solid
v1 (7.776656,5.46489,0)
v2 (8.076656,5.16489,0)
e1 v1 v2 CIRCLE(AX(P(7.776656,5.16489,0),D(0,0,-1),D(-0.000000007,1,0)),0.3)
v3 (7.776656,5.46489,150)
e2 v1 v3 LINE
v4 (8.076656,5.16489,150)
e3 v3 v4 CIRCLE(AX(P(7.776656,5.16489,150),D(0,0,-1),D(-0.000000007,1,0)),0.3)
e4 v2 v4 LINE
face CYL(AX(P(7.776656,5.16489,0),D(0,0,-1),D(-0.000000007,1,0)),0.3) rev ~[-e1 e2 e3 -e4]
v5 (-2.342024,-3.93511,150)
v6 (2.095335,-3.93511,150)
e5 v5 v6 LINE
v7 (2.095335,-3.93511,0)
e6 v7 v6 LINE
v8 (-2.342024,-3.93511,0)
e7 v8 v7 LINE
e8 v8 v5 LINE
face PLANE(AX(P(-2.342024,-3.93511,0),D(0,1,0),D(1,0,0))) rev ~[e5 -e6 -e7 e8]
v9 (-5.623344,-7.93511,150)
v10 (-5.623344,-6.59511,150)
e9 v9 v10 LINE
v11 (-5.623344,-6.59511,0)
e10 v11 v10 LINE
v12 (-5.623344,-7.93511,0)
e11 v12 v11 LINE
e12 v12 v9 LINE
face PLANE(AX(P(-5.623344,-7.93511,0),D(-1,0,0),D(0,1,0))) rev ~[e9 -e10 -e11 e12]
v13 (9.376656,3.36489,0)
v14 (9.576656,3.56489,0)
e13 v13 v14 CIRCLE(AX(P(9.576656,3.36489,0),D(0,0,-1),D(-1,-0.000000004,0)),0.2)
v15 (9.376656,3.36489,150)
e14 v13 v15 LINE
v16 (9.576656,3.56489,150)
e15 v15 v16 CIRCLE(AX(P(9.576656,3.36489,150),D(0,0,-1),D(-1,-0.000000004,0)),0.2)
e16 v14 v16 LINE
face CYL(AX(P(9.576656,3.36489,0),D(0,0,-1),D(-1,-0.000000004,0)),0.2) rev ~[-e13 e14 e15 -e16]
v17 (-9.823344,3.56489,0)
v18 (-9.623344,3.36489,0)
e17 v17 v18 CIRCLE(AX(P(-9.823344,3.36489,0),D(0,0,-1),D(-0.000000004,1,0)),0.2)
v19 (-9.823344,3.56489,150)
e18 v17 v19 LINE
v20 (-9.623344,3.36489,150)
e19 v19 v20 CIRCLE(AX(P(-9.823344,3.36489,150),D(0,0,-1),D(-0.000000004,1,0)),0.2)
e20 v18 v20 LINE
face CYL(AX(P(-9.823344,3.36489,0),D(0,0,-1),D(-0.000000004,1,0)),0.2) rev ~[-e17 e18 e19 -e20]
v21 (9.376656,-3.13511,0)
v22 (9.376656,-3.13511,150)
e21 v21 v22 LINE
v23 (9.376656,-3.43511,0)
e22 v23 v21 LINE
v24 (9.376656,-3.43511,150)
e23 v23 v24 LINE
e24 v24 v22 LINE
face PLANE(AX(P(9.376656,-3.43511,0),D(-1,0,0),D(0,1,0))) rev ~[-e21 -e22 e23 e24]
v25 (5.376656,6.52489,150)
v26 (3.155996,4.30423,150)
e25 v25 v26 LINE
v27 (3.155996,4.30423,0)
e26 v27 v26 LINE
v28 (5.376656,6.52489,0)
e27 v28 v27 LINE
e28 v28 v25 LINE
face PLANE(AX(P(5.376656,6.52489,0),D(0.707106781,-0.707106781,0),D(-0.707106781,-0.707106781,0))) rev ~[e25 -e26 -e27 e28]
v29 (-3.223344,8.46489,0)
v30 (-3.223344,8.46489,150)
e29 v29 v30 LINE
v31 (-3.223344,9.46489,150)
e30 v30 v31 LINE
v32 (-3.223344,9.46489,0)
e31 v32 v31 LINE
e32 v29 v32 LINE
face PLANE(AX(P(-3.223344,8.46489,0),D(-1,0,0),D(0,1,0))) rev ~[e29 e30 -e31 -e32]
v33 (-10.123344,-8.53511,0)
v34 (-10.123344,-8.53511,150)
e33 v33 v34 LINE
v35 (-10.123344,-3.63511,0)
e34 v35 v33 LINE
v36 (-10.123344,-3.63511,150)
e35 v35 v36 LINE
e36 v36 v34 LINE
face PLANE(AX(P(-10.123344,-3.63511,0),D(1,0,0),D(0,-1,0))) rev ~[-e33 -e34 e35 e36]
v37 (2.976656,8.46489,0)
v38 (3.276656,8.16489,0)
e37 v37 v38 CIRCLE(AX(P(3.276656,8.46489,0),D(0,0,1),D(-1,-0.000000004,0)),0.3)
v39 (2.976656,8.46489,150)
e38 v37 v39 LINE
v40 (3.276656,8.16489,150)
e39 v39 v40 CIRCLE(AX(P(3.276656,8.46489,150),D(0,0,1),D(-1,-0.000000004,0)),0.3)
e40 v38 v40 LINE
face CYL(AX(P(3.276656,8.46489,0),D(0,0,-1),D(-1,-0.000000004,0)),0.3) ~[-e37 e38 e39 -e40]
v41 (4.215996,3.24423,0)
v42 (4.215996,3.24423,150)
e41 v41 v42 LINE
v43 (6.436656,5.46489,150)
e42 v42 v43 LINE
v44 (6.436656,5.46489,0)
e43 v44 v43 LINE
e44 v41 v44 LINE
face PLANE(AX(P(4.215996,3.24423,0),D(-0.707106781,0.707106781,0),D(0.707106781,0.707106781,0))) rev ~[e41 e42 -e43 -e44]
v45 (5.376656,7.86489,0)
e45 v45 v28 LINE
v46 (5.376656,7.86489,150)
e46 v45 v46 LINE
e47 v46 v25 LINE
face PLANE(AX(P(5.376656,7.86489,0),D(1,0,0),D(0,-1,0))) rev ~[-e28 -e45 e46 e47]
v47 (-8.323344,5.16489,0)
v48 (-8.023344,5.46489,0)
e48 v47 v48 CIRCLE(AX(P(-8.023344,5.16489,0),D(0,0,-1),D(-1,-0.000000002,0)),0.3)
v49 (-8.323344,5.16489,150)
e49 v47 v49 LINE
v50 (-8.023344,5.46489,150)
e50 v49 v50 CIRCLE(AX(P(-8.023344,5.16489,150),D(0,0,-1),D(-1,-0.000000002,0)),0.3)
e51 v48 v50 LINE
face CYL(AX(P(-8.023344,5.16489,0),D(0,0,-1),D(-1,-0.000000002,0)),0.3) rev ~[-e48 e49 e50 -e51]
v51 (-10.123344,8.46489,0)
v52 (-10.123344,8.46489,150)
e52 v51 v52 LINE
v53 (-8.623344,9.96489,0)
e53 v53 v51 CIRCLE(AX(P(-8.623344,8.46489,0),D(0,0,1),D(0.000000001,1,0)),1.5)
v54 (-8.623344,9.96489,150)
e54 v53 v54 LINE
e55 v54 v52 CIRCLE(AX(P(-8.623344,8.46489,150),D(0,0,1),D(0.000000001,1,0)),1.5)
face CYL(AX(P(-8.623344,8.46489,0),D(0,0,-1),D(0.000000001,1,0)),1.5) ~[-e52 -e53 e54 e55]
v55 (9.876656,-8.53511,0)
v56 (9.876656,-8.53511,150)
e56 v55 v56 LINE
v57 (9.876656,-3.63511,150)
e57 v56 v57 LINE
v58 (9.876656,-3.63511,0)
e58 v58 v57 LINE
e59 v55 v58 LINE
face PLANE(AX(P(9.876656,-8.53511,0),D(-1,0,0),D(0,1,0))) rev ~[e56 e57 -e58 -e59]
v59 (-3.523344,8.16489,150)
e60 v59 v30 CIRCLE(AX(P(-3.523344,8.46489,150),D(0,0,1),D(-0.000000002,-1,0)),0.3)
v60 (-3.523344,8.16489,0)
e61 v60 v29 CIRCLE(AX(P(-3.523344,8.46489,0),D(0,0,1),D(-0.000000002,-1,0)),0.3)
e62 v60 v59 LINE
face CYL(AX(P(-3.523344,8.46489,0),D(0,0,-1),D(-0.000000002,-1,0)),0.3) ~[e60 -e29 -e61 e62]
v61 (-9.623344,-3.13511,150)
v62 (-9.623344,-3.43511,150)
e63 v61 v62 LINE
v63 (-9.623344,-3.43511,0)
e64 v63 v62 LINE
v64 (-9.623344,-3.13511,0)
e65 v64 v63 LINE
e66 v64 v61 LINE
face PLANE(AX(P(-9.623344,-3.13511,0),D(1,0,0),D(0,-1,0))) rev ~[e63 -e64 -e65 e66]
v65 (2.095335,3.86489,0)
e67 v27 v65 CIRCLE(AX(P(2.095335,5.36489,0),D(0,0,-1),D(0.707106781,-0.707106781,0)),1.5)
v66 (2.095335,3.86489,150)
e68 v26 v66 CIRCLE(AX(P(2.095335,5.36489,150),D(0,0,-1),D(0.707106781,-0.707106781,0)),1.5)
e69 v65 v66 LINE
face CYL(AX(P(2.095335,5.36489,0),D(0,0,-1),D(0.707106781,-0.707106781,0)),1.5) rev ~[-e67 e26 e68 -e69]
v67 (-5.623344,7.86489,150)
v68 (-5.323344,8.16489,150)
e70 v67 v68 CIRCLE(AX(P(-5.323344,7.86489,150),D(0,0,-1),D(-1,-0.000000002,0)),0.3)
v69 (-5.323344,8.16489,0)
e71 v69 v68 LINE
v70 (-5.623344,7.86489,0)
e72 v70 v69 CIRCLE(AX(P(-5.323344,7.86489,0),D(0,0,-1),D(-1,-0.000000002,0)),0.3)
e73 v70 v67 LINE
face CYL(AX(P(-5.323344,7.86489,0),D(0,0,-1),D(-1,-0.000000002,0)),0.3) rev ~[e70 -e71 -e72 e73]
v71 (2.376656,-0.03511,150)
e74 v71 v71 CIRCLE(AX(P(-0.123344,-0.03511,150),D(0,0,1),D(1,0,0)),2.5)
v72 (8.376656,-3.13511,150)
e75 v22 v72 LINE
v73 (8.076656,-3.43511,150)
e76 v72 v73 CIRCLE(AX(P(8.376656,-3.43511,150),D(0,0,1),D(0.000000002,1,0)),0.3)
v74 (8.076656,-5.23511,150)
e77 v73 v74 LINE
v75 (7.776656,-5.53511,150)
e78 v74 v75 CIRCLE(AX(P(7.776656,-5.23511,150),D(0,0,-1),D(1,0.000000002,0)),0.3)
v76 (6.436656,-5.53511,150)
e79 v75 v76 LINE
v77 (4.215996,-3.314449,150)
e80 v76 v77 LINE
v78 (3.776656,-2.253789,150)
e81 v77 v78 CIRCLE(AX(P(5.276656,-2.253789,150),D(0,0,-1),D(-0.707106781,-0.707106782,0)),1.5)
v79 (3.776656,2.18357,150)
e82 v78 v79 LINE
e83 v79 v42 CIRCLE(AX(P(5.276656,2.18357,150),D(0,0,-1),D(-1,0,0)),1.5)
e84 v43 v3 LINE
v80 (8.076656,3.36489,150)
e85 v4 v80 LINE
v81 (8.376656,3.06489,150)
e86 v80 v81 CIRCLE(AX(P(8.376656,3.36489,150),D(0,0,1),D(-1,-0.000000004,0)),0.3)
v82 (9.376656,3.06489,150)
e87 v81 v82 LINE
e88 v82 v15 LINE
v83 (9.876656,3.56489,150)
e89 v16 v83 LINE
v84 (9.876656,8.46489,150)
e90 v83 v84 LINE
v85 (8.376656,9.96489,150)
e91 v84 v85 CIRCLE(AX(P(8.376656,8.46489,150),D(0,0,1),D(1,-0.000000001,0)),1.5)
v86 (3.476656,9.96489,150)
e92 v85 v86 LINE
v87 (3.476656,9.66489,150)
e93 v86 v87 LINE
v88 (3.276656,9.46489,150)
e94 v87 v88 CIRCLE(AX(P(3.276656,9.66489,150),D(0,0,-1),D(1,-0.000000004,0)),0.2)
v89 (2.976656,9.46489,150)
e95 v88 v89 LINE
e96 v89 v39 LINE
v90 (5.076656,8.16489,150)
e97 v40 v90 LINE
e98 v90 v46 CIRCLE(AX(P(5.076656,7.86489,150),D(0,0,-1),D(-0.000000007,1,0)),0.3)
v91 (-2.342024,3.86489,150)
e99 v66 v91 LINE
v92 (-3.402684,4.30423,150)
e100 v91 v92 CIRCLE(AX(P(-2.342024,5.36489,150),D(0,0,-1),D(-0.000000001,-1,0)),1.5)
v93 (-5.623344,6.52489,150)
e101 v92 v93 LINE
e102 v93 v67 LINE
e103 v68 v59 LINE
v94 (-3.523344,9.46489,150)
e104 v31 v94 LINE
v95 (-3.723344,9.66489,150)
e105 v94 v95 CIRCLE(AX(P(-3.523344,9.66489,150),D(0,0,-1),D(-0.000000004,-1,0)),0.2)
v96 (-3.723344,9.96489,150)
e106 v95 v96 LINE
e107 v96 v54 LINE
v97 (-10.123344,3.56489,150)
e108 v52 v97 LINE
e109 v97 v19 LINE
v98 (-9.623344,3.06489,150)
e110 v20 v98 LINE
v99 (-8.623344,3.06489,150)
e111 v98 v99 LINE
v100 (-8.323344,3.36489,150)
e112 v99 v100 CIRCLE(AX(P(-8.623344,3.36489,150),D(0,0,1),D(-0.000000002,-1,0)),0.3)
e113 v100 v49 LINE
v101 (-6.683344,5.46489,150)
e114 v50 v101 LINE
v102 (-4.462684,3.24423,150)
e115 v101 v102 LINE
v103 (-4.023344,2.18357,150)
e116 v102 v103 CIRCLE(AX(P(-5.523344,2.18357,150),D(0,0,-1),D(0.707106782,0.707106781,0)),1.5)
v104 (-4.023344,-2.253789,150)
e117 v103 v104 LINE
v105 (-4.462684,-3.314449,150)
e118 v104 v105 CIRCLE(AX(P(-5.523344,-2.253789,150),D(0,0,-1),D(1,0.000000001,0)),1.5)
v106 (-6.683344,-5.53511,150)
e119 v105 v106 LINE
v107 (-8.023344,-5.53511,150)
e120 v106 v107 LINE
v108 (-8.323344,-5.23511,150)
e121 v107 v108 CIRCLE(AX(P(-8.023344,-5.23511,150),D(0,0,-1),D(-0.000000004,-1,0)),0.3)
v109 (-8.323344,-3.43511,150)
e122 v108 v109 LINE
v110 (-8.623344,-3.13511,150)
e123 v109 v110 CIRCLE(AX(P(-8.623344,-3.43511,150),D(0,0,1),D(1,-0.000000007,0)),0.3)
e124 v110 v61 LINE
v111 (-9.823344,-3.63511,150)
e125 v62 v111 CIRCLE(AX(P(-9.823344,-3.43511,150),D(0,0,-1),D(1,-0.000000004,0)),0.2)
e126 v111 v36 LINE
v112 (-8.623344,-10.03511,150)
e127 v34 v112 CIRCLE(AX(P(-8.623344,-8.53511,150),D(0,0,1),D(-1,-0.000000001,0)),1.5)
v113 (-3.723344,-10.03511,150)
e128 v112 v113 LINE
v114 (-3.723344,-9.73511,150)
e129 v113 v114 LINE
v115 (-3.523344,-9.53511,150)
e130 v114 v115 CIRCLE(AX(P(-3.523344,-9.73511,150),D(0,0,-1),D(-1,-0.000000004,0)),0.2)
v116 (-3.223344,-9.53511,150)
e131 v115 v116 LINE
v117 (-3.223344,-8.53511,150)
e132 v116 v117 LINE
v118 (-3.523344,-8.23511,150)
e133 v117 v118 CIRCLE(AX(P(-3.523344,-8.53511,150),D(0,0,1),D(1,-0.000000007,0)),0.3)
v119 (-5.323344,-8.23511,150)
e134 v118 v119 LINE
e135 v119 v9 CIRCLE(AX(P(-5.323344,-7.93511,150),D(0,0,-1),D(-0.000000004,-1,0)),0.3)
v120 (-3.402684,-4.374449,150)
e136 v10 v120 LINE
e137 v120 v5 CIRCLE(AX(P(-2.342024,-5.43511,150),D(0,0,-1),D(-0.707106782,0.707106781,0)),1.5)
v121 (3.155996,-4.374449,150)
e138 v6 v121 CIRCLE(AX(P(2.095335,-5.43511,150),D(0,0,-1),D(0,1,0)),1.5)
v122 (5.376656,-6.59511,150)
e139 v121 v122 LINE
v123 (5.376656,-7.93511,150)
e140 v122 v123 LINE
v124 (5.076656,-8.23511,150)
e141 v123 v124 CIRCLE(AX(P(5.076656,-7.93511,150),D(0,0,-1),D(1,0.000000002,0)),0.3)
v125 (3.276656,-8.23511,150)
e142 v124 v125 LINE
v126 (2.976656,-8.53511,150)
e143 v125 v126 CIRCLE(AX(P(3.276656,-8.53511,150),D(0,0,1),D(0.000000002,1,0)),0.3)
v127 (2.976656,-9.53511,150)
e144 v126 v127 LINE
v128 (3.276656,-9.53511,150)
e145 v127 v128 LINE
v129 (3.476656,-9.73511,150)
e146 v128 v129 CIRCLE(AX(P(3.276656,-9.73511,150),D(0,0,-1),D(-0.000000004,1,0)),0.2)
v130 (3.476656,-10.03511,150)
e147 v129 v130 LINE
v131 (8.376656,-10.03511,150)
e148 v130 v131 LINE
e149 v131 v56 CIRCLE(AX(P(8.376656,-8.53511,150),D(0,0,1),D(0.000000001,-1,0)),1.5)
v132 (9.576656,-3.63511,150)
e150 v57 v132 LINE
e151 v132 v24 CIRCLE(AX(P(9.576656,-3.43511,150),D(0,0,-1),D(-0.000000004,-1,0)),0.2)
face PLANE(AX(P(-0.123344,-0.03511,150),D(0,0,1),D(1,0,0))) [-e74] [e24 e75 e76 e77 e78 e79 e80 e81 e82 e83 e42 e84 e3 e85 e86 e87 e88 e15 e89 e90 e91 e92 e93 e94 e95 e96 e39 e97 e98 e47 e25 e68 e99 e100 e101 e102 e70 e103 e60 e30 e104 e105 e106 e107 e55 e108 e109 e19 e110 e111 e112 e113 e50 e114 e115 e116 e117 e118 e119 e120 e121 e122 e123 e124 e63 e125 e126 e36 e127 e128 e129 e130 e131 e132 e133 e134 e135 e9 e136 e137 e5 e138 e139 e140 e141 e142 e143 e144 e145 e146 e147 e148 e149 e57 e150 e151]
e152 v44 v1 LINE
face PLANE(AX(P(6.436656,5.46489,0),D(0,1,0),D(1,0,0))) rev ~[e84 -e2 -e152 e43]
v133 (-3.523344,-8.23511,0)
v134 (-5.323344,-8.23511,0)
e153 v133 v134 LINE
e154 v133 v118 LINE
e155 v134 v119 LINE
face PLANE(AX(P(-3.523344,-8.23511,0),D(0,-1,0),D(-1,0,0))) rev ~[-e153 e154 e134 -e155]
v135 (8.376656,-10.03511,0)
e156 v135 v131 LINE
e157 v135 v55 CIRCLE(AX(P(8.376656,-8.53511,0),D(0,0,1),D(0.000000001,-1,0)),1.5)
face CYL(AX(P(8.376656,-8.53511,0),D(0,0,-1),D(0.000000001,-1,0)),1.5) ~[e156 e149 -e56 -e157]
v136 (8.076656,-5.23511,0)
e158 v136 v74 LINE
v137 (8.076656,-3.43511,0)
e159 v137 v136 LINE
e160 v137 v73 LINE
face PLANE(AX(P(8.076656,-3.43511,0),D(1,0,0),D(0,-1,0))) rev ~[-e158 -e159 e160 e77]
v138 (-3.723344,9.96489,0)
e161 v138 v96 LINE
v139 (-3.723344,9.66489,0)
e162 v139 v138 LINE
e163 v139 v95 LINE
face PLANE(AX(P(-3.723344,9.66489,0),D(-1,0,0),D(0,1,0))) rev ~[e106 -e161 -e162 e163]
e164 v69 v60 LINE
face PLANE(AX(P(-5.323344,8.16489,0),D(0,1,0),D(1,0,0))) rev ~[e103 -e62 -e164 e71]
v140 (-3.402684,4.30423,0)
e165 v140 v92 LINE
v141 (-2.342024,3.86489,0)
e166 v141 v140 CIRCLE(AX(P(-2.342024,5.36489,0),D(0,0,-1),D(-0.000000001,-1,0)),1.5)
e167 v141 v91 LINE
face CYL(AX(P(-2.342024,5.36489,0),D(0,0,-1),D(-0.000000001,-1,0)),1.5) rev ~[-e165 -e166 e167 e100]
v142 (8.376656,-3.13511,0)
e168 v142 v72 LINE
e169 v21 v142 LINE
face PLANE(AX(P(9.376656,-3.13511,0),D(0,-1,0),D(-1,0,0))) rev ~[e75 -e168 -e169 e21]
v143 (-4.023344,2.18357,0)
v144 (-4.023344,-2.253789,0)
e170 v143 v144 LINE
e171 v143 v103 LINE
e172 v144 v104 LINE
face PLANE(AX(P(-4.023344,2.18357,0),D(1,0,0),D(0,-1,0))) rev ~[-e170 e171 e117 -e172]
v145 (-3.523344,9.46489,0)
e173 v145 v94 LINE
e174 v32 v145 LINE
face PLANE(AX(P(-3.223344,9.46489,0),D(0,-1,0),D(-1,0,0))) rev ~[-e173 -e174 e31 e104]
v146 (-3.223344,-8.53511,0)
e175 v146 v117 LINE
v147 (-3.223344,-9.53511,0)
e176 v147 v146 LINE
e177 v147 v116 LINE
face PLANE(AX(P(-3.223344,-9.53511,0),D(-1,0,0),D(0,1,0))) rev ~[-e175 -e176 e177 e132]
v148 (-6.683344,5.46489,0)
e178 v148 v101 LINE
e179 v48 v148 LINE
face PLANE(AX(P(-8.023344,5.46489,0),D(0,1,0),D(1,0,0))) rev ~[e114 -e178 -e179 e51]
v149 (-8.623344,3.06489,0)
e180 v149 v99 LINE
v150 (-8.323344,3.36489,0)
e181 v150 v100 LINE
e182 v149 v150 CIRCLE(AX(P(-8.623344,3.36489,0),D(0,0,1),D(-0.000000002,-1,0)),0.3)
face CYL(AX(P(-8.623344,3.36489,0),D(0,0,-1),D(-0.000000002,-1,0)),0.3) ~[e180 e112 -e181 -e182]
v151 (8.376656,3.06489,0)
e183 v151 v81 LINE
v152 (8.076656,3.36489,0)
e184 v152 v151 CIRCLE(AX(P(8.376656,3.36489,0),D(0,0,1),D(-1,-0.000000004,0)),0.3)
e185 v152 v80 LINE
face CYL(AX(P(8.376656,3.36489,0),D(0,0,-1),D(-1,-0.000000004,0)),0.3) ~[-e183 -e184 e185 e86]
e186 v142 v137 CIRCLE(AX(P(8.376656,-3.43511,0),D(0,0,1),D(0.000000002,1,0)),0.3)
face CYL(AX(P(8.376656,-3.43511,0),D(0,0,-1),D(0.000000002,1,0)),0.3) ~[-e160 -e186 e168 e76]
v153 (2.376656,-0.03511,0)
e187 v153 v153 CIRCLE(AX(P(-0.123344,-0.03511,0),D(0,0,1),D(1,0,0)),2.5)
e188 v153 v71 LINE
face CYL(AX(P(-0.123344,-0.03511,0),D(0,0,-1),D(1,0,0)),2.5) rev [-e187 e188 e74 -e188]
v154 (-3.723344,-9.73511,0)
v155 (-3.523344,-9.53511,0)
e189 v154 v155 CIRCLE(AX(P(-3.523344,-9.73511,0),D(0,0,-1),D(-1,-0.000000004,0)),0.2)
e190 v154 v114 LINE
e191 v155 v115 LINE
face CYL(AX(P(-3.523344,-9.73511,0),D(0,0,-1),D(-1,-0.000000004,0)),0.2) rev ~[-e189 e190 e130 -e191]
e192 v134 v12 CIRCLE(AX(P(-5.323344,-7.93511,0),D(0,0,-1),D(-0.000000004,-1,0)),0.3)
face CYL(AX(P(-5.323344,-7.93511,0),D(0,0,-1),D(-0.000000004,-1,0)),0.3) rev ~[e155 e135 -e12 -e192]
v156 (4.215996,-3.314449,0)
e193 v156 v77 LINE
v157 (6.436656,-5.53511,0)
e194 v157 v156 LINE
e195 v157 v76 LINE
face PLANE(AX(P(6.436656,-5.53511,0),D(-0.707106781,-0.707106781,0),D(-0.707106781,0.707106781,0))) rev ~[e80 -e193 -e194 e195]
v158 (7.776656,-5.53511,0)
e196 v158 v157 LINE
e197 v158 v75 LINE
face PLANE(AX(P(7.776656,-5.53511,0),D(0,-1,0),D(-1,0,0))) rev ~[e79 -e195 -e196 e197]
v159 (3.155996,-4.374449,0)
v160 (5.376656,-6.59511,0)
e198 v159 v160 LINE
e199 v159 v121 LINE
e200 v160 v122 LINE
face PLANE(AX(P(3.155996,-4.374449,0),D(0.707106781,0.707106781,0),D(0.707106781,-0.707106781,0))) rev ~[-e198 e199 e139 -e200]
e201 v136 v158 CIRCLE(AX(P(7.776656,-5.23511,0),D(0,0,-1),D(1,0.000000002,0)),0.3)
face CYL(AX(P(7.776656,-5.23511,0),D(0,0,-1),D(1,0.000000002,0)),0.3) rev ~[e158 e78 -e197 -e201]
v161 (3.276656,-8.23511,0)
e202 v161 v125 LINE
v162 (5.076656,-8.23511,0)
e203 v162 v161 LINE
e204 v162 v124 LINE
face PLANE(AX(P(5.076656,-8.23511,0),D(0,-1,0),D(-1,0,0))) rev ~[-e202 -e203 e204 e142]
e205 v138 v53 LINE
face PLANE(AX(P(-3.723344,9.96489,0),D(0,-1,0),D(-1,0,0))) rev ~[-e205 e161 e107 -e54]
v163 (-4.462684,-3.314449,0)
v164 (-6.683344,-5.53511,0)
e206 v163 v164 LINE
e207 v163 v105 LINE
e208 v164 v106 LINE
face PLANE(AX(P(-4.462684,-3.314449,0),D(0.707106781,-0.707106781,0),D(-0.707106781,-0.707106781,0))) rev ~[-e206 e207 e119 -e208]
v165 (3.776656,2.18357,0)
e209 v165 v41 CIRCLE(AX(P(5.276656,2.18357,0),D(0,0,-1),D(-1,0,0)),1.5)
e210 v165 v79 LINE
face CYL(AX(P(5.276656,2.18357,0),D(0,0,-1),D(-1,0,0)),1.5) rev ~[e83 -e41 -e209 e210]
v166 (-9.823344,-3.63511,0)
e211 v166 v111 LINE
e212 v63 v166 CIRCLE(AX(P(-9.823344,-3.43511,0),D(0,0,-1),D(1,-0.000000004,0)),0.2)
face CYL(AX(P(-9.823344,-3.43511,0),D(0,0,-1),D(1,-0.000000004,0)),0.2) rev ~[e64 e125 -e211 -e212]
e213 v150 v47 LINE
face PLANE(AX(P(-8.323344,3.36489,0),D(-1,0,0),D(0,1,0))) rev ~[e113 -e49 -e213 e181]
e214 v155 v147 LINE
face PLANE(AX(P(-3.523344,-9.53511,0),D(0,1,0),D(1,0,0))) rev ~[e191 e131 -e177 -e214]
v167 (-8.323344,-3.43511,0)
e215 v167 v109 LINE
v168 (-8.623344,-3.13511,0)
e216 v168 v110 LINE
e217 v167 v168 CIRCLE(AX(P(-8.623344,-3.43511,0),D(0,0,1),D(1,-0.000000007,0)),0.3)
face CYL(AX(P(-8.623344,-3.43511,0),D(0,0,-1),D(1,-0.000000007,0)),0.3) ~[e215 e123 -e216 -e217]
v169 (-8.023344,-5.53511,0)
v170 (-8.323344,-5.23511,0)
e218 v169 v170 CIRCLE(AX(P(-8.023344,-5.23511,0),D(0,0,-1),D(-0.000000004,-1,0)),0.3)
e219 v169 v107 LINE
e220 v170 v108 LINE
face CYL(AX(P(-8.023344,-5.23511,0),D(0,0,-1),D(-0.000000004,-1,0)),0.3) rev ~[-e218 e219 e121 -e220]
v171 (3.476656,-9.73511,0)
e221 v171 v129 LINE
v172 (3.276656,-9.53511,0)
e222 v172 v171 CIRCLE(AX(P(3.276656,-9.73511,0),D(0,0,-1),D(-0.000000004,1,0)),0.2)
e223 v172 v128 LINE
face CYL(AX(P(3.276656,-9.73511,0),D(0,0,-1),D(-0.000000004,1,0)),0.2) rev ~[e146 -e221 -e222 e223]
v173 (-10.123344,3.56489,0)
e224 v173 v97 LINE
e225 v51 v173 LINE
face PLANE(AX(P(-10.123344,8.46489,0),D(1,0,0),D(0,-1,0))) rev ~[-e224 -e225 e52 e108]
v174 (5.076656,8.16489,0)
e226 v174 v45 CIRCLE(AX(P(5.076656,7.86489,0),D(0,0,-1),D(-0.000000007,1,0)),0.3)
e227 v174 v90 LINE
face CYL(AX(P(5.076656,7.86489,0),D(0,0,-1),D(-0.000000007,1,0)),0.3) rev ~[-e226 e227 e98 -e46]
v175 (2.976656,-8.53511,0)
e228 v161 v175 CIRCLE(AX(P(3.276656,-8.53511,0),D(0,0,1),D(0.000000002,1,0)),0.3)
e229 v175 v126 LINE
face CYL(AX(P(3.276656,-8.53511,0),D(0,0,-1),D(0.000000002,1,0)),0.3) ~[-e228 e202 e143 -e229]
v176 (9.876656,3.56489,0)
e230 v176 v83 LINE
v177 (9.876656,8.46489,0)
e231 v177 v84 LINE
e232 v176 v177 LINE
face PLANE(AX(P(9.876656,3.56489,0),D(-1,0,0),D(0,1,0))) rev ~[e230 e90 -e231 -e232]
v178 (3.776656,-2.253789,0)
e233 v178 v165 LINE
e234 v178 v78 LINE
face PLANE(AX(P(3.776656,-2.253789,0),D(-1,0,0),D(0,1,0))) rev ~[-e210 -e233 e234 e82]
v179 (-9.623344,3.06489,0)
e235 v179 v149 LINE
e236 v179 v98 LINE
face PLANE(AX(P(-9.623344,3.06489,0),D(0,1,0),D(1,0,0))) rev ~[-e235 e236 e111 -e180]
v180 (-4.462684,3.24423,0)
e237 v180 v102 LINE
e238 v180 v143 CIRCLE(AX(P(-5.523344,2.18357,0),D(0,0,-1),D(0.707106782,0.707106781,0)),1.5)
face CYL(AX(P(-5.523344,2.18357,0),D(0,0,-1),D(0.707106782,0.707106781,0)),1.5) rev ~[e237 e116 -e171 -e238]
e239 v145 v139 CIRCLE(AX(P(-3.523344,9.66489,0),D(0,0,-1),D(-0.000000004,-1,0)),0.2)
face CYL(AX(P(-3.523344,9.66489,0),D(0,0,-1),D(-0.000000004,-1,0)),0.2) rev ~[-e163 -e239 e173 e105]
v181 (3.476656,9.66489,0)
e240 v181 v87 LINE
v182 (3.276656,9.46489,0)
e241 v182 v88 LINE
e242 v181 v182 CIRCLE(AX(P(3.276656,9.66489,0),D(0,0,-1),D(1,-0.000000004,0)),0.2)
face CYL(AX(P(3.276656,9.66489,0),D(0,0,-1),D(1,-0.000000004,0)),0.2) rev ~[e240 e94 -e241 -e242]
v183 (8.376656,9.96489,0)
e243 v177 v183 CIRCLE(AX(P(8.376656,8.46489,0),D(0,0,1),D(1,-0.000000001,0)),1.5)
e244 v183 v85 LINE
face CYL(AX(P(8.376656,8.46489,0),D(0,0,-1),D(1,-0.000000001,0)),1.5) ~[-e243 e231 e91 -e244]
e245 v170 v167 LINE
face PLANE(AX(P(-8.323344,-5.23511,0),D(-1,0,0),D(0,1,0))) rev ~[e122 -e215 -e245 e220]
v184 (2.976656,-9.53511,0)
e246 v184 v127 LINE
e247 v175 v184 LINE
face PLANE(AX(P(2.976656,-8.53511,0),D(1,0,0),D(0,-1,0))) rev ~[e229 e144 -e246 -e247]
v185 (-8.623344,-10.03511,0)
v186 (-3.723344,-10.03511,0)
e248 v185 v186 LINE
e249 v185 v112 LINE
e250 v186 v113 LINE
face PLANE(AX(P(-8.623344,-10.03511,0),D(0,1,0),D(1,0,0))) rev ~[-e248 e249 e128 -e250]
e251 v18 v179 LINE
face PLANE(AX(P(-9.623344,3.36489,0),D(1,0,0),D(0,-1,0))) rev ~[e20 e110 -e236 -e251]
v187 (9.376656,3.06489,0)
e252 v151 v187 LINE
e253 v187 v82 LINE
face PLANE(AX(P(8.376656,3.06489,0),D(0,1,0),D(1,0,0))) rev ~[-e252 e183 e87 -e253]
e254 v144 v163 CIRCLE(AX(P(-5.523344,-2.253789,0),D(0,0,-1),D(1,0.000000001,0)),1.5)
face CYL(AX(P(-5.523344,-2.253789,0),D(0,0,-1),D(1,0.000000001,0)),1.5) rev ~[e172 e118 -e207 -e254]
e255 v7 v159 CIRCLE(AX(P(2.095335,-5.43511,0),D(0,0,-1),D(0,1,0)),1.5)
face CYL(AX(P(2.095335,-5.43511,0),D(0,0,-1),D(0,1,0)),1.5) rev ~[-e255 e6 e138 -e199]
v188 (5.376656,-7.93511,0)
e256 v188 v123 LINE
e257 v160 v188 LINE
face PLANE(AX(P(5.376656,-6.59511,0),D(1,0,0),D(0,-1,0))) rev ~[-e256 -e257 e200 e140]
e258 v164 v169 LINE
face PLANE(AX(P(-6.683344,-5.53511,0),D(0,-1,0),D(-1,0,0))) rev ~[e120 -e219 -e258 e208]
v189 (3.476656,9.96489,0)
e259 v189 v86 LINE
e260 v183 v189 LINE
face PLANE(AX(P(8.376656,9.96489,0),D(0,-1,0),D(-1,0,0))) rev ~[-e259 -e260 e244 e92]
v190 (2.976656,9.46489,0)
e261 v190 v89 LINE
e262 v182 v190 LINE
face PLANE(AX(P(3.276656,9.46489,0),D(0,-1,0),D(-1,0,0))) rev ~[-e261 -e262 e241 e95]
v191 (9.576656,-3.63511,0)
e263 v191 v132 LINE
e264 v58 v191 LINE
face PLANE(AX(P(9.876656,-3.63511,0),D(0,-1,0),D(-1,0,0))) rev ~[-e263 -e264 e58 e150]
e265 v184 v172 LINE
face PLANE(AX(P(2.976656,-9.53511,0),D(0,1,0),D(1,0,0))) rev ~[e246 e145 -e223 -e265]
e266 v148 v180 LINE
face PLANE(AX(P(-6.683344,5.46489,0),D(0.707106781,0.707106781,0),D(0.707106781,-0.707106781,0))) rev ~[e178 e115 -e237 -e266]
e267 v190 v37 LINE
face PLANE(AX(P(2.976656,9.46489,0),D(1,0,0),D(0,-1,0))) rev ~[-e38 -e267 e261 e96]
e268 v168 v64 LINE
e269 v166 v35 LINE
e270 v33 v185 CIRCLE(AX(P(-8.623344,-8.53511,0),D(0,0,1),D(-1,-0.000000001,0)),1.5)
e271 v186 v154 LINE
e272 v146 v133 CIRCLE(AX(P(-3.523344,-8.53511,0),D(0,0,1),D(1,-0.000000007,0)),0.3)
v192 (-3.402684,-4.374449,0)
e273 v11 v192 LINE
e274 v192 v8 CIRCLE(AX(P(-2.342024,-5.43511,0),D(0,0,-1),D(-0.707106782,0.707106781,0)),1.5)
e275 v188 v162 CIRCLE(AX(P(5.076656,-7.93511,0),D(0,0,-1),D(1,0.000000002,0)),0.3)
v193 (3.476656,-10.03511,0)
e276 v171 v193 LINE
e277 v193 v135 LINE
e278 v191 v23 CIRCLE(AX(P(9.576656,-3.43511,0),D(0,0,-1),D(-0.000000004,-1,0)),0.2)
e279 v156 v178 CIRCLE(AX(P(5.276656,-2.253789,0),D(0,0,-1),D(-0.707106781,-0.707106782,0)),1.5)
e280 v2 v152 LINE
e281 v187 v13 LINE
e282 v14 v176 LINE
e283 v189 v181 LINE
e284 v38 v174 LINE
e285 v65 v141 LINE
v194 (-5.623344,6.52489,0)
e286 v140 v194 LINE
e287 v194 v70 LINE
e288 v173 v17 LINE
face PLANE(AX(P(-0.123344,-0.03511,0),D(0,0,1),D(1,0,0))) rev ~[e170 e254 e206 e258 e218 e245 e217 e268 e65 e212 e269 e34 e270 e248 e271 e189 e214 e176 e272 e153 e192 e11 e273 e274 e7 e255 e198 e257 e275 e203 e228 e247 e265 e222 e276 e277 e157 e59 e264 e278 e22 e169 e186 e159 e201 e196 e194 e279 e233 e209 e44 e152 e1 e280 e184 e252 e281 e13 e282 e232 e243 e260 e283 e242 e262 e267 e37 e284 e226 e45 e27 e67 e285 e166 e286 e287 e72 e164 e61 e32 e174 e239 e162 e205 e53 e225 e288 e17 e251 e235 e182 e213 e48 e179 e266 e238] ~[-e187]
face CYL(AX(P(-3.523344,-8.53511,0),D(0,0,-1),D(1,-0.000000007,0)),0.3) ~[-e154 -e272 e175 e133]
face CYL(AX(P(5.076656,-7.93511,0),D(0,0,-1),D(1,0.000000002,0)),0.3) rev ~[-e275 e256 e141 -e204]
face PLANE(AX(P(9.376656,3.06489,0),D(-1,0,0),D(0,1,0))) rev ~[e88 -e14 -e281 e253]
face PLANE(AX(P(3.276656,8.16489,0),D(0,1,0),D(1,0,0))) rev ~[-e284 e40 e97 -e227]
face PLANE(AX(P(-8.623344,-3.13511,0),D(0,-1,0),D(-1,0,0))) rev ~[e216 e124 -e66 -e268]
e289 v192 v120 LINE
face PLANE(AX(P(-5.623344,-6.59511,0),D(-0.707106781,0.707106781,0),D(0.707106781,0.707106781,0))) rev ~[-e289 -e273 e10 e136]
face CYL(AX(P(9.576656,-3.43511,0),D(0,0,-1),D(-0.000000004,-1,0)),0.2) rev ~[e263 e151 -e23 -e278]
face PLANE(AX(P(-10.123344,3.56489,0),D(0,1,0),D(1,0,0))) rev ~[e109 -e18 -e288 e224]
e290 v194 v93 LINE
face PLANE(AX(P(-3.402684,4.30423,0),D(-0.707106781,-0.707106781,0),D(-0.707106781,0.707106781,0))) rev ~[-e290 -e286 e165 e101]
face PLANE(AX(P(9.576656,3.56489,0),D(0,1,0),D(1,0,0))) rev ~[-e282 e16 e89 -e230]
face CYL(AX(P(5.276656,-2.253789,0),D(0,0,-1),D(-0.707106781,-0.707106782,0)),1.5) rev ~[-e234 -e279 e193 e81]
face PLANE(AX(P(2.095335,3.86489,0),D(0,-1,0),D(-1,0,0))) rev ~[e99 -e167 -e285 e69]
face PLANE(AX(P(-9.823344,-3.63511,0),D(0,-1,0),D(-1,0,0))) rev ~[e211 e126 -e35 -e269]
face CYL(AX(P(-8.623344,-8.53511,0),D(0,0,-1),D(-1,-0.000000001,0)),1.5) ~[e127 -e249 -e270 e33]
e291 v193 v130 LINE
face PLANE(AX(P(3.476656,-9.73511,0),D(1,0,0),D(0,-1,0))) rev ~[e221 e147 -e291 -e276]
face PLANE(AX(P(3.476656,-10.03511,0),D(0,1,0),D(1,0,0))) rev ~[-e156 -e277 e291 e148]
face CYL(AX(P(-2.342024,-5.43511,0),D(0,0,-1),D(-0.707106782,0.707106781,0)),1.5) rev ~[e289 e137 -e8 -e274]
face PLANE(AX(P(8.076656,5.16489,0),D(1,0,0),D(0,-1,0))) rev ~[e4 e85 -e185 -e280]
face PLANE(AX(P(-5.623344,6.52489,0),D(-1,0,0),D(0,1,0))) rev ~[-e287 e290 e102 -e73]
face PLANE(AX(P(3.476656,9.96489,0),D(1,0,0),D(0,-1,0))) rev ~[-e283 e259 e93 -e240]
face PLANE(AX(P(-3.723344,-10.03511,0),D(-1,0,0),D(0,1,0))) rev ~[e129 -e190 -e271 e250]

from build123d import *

# Parameters (mm, degrees)
SKETCH_1_R      = 2.5
EXTRUDE_1_DEPTH = 150


with BuildPart() as part:
    # 草图1 → 凸台-拉伸1 (new body)
    with BuildSketch(Plane.XY):
        with BuildLine():
            Line((4.215995631, 3.244230202), (6.436655803, 5.464890373))
            Line((6.436655803, 5.464890373), (7.776655803, 5.464890373))
            ThreePointArc((7.776655803, 5.464890373), (7.988787838, 5.377022408), (8.076655803, 5.164890373))
            Line((8.076655803, 5.164890373), (8.076655803, 3.364890373))
            ThreePointArc((8.076655803, 3.364890373), (8.164523769, 3.152758339), (8.376655803, 3.064890373))
            Line((8.376655803, 3.064890373), (9.376655803, 3.064890373))
            Line((9.376655803, 3.064890373), (9.376655803, 3.364890373))
            ThreePointArc((9.376655803, 3.364890373), (9.435234447, 3.50631173), (9.576655803, 3.564890373))
            Line((9.576655803, 3.564890373), (9.876655803, 3.564890373))
            Line((9.876655803, 3.564890373), (9.876655803, 8.464890373))
            ThreePointArc((9.876655803, 8.464890373), (9.437315975, 9.525550545), (8.376655803, 9.964890373))
            Line((8.376655803, 9.964890373), (3.476655803, 9.964890373))
            Line((3.476655803, 9.964890373), (3.476655803, 9.664890373))
            ThreePointArc((3.476655803, 9.664890373), (3.418077159, 9.523469017), (3.276655803, 9.464890373))
            Line((3.276655803, 9.464890373), (2.976655803, 9.464890373))
            Line((2.976655803, 9.464890373), (2.976655803, 8.464890373))
            ThreePointArc((2.976655803, 8.464890373), (3.064523769, 8.252758339), (3.276655803, 8.164890373))
            Line((3.276655803, 8.164890373), (5.076655803, 8.164890373))
            ThreePointArc((5.076655803, 8.164890373), (5.288787838, 8.077022408), (5.376655803, 7.864890373))
            Line((5.376655803, 7.864890373), (5.376655803, 6.524890373))
            Line((5.376655803, 6.524890373), (3.155995631, 4.304230202))
            ThreePointArc((3.155995631, 4.304230202), (2.669360608, 3.979071075), (2.09533546, 3.864890373))
            Line((2.09533546, 3.864890373), (-2.342023853, 3.864890373))
            ThreePointArc((-2.342023853, 3.864890373), (-2.916049002, 3.979071075), (-3.402684025, 4.304230202))
            Line((-3.402684025, 4.304230202), (-5.623344197, 6.524890373))
            Line((-5.623344197, 6.524890373), (-5.623344197, 7.864890373))
            ThreePointArc((-5.623344197, 7.864890373), (-5.535476231, 8.077022408), (-5.323344197, 8.164890373))
            Line((-5.323344197, 8.164890373), (-3.523344197, 8.164890373))
            ThreePointArc((-3.523344197, 8.164890373), (-3.311212162, 8.252758339), (-3.223344197, 8.464890373))
            Line((-3.223344197, 8.464890373), (-3.223344197, 9.464890373))
            Line((-3.223344197, 9.464890373), (-3.523344197, 9.464890373))
            ThreePointArc((-3.523344197, 9.464890373), (-3.664765553, 9.523469017), (-3.723344197, 9.664890373))
            Line((-3.723344197, 9.664890373), (-3.723344197, 9.964890373))
            Line((-3.723344197, 9.964890373), (-8.623344197, 9.964890373))
            ThreePointArc((-8.623344197, 9.964890373), (-9.684004369, 9.525550545), (-10.123344197, 8.464890373))
            Line((-10.123344197, 8.464890373), (-10.123344197, 3.564890373))
            Line((-10.123344197, 3.564890373), (-9.823344197, 3.564890373))
            ThreePointArc((-9.823344197, 3.564890373), (-9.681922841, 3.50631173), (-9.623344197, 3.364890373))
            Line((-9.623344197, 3.364890373), (-9.623344197, 3.064890373))
            Line((-9.623344197, 3.064890373), (-8.623344197, 3.064890373))
            ThreePointArc((-8.623344197, 3.064890373), (-8.411212162, 3.152758339), (-8.323344197, 3.364890373))
            Line((-8.323344197, 3.364890373), (-8.323344197, 5.164890373))
            ThreePointArc((-8.323344197, 5.164890373), (-8.235476231, 5.377022408), (-8.023344197, 5.464890373))
            Line((-8.023344197, 5.464890373), (-6.683344197, 5.464890373))
            Line((-6.683344197, 5.464890373), (-4.462684025, 3.244230202))
            ThreePointArc((-4.462684025, 3.244230202), (-4.137524898, 2.757595178), (-4.023344197, 2.18357003))
            Line((-4.023344197, 2.18357003), (-4.023344197, -2.253789283))
            ThreePointArc((-4.023344197, -2.253789283), (-4.137524898, -2.827814432), (-4.462684025, -3.314449455))
            Line((-4.462684025, -3.314449455), (-6.683344197, -5.535109627))
            Line((-6.683344197, -5.535109627), (-8.023344197, -5.535109627))
            ThreePointArc((-8.023344197, -5.535109627), (-8.235476231, -5.447241661), (-8.323344197, -5.235109627))
            Line((-8.323344197, -5.235109627), (-8.323344197, -3.435109627))
            ThreePointArc((-8.323344197, -3.435109627), (-8.411212162, -3.222977592), (-8.623344197, -3.135109627))
            Line((-8.623344197, -3.135109627), (-9.623344197, -3.135109627))
            Line((-9.623344197, -3.135109627), (-9.623344197, -3.435109627))
            ThreePointArc((-9.623344197, -3.435109627), (-9.681922841, -3.576530983), (-9.823344197, -3.635109627))
            Line((-9.823344197, -3.635109627), (-10.123344197, -3.635109627))
            Line((-10.123344197, -3.635109627), (-10.123344197, -8.535109627))
            ThreePointArc((-10.123344197, -8.535109627), (-9.684004369, -9.595769798), (-8.623344197, -10.035109627))
            Line((-8.623344197, -10.035109627), (-3.723344197, -10.035109627))
            Line((-3.723344197, -10.035109627), (-3.723344197, -9.735109627))
            ThreePointArc((-3.723344197, -9.735109627), (-3.664765553, -9.59368827), (-3.523344197, -9.535109627))
            Line((-3.523344197, -9.535109627), (-3.223344197, -9.535109627))
            Line((-3.223344197, -9.535109627), (-3.223344197, -8.535109627))
            ThreePointArc((-3.223344197, -8.535109627), (-3.311212162, -8.322977592), (-3.523344197, -8.235109627))
            Line((-3.523344197, -8.235109627), (-5.323344197, -8.235109627))
            ThreePointArc((-5.323344197, -8.235109627), (-5.535476231, -8.147241661), (-5.623344197, -7.935109627))
            Line((-5.623344197, -7.935109627), (-5.623344197, -6.595109627))
            Line((-5.623344197, -6.595109627), (-3.402684025, -4.374449455))
            ThreePointArc((-3.402684025, -4.374449455), (-2.916049002, -4.049290328), (-2.342023853, -3.935109627))
            Line((-2.342023853, -3.935109627), (2.09533546, -3.935109627))
            ThreePointArc((2.09533546, -3.935109627), (2.669360608, -4.049290328), (3.155995631, -4.374449455))
            Line((3.155995631, -4.374449455), (5.376655803, -6.595109627))
            Line((5.376655803, -6.595109627), (5.376655803, -7.935109627))
            ThreePointArc((5.376655803, -7.935109627), (5.288787838, -8.147241661), (5.076655803, -8.235109627))
            Line((5.076655803, -8.235109627), (3.276655803, -8.235109627))
            ThreePointArc((3.276655803, -8.235109627), (3.064523769, -8.322977592), (2.976655803, -8.535109627))
            Line((2.976655803, -8.535109627), (2.976655803, -9.535109627))
            Line((2.976655803, -9.535109627), (3.276655803, -9.535109627))
            ThreePointArc((3.276655803, -9.535109627), (3.418077159, -9.59368827), (3.476655803, -9.735109627))
            Line((3.476655803, -9.735109627), (3.476655803, -10.035109627))
            Line((3.476655803, -10.035109627), (8.376655803, -10.035109627))
            ThreePointArc((8.376655803, -10.035109627), (9.437315975, -9.595769798), (9.876655803, -8.535109627))
            Line((9.876655803, -8.535109627), (9.876655803, -3.635109627))
            Line((9.876655803, -3.635109627), (9.576655803, -3.635109627))
            ThreePointArc((9.576655803, -3.635109627), (9.435234447, -3.576530983), (9.376655803, -3.435109627))
            Line((9.376655803, -3.435109627), (9.376655803, -3.135109627))
            Line((9.376655803, -3.135109627), (8.376655803, -3.135109627))
            ThreePointArc((8.376655803, -3.135109627), (8.164523769, -3.222977592), (8.076655803, -3.435109627))
            Line((8.076655803, -3.435109627), (8.076655803, -5.235109627))
            ThreePointArc((8.076655803, -5.235109627), (7.988787838, -5.447241661), (7.776655803, -5.535109627))
            Line((7.776655803, -5.535109627), (6.436655803, -5.535109627))
            Line((6.436655803, -5.535109627), (4.215995631, -3.314449455))
            ThreePointArc((4.215995631, -3.314449455), (3.890836504, -2.827814432), (3.776655803, -2.253789283))
            Line((3.776655803, -2.253789283), (3.776655803, 2.18357003))
            ThreePointArc((3.776655803, 2.18357003), (3.890836504, 2.757595178), (4.215995631, 3.244230202))
        make_face()
        with Locations((-0.123344197, -0.035109627)):
            Circle(SKETCH_1_R, mode=Mode.SUBTRACT)
    extrude(amount=EXTRUDE_1_DEPTH)


solid = part.part
